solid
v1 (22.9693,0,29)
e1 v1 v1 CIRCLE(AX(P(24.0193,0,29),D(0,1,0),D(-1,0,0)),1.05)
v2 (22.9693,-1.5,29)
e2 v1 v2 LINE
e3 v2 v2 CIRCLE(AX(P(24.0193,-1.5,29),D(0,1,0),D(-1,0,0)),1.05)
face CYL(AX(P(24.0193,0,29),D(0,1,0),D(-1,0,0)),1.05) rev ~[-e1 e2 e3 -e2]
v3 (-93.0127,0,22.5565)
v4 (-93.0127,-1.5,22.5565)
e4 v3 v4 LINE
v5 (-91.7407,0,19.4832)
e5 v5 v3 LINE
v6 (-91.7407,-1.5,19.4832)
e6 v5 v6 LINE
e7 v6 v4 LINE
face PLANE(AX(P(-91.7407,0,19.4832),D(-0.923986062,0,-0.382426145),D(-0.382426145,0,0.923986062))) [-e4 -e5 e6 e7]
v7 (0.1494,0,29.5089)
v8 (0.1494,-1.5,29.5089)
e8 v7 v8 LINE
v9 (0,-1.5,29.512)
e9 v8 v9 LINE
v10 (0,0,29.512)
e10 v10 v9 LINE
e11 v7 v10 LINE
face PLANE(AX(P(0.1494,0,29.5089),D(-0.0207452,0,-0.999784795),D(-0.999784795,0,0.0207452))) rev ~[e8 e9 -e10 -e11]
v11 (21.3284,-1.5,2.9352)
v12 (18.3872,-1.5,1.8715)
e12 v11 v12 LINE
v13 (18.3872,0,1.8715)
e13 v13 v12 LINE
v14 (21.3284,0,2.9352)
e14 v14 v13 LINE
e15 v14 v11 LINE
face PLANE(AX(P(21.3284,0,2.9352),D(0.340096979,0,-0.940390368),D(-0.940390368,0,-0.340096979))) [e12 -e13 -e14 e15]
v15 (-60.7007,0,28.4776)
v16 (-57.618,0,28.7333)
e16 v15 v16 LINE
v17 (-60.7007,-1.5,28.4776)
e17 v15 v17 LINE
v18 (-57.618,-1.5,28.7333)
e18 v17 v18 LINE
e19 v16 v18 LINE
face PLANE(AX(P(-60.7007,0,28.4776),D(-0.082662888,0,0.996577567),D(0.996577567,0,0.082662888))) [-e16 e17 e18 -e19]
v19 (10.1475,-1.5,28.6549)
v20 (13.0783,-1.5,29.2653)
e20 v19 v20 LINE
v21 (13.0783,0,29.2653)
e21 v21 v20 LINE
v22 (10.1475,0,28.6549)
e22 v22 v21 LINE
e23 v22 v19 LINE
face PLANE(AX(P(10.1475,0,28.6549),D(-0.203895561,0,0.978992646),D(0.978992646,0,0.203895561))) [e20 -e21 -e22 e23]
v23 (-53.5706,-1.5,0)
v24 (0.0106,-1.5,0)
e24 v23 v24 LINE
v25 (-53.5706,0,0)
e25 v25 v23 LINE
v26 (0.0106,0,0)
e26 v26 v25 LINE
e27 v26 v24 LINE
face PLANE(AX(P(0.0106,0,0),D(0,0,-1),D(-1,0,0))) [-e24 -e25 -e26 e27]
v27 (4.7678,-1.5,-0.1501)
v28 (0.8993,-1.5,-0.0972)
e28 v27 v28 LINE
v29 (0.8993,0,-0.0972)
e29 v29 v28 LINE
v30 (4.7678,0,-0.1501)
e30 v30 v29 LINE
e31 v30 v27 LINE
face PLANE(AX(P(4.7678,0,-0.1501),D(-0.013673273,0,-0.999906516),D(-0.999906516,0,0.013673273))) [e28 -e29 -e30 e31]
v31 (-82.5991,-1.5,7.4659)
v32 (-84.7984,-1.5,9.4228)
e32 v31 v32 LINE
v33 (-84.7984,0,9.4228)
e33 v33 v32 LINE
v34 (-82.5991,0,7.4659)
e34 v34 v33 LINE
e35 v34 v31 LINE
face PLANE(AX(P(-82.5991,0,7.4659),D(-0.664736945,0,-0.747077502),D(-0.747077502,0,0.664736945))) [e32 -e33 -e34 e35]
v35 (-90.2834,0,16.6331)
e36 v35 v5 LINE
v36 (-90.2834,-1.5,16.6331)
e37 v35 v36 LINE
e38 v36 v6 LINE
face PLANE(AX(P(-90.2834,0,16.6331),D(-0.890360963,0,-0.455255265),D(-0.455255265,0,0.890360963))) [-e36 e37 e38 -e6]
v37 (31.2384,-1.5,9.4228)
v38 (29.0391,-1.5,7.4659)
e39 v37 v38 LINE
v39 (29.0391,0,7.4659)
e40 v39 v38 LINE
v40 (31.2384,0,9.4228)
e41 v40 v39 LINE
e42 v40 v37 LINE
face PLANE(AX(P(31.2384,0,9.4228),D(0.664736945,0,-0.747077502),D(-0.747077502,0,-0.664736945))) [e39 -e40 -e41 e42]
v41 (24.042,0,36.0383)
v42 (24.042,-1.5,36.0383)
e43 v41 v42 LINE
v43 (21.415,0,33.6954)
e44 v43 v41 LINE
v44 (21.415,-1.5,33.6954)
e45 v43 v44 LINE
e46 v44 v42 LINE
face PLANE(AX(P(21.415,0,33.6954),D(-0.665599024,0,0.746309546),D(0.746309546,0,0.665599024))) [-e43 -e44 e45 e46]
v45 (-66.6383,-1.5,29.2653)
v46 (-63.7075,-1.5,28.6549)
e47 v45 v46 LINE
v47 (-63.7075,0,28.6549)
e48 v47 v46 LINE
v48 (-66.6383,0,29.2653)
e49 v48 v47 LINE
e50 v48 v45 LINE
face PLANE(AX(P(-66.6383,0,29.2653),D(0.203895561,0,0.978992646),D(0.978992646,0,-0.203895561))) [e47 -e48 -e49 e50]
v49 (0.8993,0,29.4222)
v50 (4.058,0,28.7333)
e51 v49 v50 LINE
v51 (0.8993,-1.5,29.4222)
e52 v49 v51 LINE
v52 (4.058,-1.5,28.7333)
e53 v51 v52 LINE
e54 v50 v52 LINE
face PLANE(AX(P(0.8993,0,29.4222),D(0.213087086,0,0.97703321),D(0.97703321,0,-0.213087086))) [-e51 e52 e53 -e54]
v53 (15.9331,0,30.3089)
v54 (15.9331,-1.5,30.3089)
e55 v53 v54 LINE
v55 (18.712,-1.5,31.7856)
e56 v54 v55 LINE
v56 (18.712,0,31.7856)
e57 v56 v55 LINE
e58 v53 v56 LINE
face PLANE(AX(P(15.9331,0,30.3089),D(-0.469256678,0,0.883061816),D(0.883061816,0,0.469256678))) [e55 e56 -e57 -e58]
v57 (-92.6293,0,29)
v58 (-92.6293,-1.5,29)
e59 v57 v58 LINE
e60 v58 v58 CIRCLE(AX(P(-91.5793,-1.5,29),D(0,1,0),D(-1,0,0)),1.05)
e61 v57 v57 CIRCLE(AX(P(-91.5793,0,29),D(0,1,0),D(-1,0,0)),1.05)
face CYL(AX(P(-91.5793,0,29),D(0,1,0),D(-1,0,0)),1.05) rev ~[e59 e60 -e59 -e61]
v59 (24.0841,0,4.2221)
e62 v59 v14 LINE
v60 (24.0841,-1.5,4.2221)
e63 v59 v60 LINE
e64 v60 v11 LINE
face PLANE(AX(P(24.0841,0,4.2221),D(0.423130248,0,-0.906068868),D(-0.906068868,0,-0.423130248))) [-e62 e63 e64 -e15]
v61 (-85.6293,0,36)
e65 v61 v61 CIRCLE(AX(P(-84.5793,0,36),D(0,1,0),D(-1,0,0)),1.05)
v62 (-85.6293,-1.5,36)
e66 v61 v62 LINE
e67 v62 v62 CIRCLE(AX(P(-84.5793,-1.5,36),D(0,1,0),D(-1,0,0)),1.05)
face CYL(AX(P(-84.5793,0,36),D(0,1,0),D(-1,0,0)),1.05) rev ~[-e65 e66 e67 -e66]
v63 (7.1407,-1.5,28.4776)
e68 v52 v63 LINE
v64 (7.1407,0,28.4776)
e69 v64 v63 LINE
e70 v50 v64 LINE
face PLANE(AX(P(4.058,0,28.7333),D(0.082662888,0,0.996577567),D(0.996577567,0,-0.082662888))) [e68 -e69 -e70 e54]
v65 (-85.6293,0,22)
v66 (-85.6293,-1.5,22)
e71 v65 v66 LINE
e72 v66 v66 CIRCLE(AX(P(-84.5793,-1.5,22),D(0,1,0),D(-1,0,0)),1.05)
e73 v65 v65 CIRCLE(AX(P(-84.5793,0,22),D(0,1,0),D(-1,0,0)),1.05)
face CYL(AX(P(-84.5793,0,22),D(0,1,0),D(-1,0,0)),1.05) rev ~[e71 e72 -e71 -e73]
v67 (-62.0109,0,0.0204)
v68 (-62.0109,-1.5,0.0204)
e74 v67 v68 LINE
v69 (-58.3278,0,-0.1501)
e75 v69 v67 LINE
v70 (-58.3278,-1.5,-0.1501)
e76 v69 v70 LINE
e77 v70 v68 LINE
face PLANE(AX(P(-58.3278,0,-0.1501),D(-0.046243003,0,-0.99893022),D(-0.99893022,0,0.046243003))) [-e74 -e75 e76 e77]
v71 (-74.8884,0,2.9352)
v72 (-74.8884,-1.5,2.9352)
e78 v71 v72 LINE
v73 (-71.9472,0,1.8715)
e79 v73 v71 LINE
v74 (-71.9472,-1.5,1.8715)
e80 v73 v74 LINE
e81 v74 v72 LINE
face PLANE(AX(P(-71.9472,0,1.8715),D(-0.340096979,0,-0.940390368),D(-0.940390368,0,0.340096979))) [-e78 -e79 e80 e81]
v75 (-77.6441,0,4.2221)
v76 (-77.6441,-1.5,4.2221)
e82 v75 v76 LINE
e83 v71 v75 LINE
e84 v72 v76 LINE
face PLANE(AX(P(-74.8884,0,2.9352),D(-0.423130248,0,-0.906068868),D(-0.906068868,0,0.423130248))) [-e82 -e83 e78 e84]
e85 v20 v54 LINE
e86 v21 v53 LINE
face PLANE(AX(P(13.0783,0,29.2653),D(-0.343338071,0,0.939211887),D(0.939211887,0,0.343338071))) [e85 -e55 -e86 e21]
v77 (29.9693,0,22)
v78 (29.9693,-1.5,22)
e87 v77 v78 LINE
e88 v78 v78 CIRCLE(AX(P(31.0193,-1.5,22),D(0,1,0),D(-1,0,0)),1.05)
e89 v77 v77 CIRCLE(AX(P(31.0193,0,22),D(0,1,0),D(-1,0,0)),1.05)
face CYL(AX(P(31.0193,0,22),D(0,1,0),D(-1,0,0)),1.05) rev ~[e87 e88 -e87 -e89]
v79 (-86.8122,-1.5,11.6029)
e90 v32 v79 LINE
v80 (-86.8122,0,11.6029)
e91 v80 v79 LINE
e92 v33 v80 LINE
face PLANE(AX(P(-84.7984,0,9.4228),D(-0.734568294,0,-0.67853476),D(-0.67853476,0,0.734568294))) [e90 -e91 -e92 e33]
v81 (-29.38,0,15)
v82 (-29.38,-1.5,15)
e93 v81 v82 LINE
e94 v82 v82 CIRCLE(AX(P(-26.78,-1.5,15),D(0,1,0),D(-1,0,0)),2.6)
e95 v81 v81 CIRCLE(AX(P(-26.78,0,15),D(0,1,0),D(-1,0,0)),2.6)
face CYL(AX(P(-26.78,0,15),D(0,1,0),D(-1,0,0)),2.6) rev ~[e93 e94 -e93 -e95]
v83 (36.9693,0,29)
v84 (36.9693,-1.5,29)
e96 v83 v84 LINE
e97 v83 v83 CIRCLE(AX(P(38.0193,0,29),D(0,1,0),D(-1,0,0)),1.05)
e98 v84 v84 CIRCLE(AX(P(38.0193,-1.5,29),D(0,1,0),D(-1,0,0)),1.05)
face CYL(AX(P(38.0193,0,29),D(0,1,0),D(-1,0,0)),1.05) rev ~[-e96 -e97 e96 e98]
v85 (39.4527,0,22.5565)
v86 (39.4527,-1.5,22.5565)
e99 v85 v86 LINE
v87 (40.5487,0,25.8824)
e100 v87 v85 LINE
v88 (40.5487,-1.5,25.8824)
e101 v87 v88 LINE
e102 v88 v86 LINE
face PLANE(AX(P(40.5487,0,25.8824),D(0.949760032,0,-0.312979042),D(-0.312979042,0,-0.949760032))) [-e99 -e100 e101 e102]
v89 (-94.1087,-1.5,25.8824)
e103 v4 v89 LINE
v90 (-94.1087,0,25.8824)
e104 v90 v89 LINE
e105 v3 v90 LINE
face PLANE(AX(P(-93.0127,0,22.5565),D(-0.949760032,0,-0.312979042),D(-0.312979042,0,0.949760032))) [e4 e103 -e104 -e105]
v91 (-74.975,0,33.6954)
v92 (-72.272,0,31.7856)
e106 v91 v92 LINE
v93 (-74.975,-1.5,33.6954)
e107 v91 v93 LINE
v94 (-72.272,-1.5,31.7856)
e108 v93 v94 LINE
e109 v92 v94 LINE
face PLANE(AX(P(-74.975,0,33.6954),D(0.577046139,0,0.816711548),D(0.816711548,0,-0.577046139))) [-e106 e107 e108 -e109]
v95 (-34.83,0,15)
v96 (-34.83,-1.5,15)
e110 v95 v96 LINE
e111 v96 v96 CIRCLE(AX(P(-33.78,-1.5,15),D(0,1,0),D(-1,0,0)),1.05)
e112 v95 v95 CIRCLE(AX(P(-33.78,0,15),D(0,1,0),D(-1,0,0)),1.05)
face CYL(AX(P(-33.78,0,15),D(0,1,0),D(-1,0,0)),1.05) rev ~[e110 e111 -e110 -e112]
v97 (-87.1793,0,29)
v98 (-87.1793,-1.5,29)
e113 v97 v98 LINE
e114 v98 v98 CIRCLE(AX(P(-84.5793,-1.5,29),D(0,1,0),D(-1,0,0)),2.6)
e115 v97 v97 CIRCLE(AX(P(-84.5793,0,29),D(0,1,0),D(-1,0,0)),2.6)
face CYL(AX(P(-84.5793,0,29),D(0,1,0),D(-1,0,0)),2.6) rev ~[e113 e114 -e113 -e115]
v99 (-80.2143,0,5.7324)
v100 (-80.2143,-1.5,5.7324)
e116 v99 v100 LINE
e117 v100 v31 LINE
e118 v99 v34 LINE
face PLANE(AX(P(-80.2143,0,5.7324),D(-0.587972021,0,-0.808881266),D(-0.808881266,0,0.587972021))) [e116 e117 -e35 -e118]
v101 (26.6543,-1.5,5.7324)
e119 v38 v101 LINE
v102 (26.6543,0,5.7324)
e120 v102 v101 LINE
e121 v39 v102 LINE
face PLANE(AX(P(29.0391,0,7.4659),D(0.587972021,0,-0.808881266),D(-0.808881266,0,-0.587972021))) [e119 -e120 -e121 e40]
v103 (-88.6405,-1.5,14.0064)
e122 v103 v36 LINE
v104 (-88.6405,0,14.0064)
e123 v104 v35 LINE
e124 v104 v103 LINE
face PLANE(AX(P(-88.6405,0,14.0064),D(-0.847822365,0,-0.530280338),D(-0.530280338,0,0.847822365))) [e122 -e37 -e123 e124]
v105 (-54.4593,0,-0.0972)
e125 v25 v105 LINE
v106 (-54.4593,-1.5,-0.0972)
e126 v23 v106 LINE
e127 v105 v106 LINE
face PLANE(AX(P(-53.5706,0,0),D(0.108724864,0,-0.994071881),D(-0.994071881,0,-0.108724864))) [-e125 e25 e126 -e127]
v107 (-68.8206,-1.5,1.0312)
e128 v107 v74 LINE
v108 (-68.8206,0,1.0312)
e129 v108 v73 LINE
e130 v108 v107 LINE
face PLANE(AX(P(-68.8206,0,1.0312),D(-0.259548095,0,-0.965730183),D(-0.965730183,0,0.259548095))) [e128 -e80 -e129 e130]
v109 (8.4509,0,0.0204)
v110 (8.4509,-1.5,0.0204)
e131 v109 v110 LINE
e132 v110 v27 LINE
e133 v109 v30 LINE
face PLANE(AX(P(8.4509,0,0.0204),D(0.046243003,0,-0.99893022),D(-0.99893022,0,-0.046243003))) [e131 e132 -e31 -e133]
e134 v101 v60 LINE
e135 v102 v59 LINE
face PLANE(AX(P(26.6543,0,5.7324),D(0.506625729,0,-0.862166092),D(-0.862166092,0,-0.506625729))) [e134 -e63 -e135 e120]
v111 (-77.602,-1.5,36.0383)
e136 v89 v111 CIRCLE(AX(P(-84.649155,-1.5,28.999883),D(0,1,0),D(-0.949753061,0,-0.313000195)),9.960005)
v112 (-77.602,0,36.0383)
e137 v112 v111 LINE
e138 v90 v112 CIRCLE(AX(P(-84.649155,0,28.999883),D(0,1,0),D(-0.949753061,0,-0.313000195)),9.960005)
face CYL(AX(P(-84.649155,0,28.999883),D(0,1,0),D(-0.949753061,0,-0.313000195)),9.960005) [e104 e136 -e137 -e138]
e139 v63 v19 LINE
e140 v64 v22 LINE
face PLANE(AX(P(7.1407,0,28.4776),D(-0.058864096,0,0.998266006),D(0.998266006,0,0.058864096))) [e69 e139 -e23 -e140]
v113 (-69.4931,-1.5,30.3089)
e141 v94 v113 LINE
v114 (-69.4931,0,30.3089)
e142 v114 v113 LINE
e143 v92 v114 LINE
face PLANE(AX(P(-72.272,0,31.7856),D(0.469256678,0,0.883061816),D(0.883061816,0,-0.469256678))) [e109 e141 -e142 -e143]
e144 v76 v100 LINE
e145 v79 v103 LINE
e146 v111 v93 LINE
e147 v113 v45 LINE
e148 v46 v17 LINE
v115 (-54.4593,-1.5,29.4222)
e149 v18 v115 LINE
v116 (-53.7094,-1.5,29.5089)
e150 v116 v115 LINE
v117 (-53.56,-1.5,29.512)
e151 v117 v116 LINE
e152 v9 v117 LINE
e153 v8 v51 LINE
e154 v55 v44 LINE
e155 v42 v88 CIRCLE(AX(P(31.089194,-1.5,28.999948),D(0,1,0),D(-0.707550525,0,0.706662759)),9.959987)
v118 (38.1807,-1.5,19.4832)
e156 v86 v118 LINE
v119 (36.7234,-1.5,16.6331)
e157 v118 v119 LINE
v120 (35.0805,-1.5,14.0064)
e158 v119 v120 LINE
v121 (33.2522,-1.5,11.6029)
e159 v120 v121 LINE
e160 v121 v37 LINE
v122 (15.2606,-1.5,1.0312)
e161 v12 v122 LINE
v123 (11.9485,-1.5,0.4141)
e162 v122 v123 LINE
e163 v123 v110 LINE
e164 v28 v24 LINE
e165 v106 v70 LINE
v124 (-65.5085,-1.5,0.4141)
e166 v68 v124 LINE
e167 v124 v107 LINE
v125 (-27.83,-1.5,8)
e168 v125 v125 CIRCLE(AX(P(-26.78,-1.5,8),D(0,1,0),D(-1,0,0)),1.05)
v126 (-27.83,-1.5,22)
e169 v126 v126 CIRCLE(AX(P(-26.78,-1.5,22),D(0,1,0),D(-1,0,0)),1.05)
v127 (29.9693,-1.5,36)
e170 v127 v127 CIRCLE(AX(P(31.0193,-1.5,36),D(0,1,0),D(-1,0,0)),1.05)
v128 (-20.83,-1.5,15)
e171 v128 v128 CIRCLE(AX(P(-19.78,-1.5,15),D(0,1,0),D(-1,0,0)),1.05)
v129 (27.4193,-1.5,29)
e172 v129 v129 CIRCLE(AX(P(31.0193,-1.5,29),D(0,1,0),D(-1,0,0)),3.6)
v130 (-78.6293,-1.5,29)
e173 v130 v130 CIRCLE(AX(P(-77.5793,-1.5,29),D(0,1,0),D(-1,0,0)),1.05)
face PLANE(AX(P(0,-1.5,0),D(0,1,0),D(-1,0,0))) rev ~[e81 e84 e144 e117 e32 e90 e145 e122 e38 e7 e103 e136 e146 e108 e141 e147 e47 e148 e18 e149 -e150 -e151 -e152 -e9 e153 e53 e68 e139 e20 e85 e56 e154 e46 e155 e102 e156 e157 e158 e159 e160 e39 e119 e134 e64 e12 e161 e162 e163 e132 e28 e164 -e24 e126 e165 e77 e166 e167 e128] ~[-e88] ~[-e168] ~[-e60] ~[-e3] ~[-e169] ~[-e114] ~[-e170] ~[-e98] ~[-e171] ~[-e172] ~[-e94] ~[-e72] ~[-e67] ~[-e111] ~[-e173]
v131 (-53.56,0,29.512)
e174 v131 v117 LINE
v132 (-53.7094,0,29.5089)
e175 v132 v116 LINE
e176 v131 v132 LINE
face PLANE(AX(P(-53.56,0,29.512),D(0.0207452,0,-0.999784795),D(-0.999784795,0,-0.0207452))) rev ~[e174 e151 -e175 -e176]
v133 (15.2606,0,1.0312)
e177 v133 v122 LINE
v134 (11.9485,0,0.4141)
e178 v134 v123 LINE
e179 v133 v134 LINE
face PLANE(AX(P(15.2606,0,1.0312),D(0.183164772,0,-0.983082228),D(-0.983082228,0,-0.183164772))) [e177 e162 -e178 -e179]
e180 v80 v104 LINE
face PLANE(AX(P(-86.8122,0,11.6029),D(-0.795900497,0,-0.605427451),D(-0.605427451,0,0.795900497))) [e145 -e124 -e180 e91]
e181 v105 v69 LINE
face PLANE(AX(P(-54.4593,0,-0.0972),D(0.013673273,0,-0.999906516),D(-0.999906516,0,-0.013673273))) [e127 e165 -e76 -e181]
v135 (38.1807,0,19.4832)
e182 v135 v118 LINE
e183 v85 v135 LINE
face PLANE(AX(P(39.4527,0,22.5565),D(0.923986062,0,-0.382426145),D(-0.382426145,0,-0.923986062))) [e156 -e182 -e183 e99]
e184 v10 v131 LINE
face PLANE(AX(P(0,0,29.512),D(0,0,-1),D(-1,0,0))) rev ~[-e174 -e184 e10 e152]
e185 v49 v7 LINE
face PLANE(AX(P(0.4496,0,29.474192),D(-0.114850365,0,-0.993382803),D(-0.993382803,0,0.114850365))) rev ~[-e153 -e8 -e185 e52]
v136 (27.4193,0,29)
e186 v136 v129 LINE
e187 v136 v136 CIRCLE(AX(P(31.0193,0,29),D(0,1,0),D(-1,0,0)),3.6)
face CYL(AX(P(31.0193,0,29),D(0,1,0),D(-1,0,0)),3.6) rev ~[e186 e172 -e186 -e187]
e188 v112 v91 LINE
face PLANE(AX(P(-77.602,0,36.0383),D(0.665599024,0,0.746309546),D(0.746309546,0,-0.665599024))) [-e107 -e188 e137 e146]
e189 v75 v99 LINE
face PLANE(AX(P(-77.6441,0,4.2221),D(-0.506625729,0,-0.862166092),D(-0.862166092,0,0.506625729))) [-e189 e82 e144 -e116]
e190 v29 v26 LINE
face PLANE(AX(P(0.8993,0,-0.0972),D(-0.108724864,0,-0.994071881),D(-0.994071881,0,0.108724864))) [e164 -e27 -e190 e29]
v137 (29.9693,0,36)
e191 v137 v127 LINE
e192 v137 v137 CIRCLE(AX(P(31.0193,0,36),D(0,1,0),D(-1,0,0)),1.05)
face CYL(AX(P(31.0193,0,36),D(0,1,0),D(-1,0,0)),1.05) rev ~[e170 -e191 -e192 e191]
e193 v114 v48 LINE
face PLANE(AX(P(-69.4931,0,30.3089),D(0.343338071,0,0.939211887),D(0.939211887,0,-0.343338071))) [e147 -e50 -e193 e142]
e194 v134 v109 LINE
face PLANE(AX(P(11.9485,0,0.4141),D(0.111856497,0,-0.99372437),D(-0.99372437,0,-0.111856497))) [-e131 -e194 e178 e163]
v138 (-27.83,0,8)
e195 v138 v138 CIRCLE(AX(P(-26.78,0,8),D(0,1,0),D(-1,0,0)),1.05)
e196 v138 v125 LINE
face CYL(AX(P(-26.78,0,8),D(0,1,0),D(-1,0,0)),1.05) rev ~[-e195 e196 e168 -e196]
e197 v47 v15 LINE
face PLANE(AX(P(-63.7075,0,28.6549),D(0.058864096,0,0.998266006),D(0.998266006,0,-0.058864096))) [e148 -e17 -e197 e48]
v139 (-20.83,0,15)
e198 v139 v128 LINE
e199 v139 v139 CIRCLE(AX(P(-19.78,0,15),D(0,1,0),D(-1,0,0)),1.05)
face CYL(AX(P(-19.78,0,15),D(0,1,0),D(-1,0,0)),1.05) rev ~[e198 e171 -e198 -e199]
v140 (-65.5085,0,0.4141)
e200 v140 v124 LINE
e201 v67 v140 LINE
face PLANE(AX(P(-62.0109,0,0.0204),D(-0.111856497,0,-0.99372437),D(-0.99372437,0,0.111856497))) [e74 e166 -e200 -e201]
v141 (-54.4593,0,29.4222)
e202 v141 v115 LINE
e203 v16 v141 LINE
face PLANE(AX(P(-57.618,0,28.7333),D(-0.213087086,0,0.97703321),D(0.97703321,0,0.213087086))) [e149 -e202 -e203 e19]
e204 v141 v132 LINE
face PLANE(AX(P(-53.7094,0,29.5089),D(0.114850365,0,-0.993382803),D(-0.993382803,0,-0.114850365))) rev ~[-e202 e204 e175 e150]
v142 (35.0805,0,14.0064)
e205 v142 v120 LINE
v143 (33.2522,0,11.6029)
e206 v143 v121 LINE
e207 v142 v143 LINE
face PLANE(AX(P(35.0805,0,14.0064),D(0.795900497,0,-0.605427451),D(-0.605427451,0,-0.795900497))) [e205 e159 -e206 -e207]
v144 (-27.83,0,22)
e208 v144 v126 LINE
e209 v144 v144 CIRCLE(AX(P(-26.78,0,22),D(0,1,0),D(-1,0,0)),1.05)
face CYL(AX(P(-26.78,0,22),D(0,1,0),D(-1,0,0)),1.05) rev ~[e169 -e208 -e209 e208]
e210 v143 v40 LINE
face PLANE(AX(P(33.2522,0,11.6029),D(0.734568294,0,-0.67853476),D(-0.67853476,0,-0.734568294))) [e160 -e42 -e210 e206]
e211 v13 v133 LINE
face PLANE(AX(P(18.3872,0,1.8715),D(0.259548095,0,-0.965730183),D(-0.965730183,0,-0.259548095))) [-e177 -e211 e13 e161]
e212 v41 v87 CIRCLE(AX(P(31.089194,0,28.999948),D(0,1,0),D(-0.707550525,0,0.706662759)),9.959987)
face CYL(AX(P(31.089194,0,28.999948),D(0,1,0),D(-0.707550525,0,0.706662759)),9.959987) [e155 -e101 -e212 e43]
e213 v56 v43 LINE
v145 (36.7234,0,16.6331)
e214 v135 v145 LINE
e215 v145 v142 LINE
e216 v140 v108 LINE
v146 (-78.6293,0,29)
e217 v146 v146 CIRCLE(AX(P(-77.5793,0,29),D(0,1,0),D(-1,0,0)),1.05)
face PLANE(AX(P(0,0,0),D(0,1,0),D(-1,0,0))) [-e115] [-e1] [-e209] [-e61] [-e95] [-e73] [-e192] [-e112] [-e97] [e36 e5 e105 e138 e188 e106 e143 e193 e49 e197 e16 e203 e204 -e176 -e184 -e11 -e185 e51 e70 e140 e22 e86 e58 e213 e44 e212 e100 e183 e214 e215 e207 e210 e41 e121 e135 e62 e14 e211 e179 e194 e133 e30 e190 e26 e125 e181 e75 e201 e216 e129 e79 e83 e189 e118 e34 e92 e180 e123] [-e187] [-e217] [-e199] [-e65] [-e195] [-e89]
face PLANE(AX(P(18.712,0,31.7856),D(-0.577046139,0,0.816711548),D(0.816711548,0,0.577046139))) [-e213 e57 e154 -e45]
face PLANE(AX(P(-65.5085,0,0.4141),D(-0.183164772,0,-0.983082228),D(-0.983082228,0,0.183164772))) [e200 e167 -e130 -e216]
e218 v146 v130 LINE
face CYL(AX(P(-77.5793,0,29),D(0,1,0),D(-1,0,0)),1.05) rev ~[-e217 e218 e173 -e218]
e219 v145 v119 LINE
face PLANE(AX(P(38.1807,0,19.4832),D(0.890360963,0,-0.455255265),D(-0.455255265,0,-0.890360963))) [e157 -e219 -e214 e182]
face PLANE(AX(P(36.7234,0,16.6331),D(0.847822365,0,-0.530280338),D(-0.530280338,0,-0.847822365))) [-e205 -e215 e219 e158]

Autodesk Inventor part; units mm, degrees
ref_plane "YZ Plane" through (0, 0, 0) normal (1, 0, 0) x (0, 1, 0)
ref_plane "XZ Plane" through (0, 0, 0) normal (0, 1, 0) x (-1, 0, 0)
ref_plane "XY Plane" through (0, 0, 0) normal (0, 0, 1) x (1, 0, 0)
sketch "Sketch1" plane through (0, 0, 0) normal (0, 1, 0) x (-1, 0, 0)
  line L0 (-0.4496, 29.8144) -> (-0.4496, -0.0337)
  line L1 (54.0096, -0.0338) -> (54.0096, 29.8144)
  line L2 (53.5706, 0) -> (53.6221, -0.0838)
  line L3 (53.56, 0) -> (53.5706, 0)
  line L4 (53.56, -0.0837) -> (53.56, 0)
  line L5 (-0.0106, 0) -> (-0.0621, -0.0838)
  line L6 (-0.8993, -0.0972) -> (-0.0106, 0)
  line L7 (53.5706, 0) -> (54.4593, -0.0972)
  line L8 (0, 0) -> (0, -0.0837)
  line L9 (-0.0106, 0) -> (0, 0)
  line L10 (0, 0) -> (53.56, 0)
  line L11 (53.7094, 29.5089) -> (53.5853, 29.9994)
  line L12 (53.56, 29.512) -> (53.7094, 29.5089)
  line L13 (53.56, 30) -> (53.56, 29.512)
  line L14 (-0.1494, 29.5089) -> (-0.0253, 29.9994)
  line L15 (-0.8993, 29.4222) -> (-0.1494, 29.5089)
  line L16 (0, 29.512) -> (0, 30)
  line L17 (-0.1494, 29.5089) -> (0, 29.512)
  line L18 (53.7094, 29.5089) -> (54.4593, 29.4222)
  line L19 (0, 29.512) -> (53.56, 29.512)
  circle A0 centre (26.78, 15) radius 2.6
  circle A1 centre (84.5793, 29) radius 2.6
  circle A2 centre (-31.0193, 29) radius 3.6
  circle A3 centre (91.5793, 29) radius 1.05
  circle A4 centre (84.5793, 36) radius 1.05
  circle A5 centre (84.5793, 22) radius 1.05
  circle A6 centre (77.5793, 29) radius 1.05
  circle A7 centre (-38.0193, 29) radius 1.05
  circle A8 centre (-31.0193, 36) radius 1.05
  circle A9 centre (-31.0193, 22) radius 1.05
  circle A10 centre (-24.0193, 29) radius 1.05
  circle A11 centre (19.78, 15) radius 1.05
  circle A12 centre (26.78, 22) radius 1.05
  circle A13 centre (33.78, 15) radius 1.05
  circle A14 centre (26.78, 8) radius 1.05
  line L20 (53.5853, 29.9994) -> (53.56, 30)
  line L21 (53.6221, -0.0838) -> (53.56, -0.0837)
  line L22 (-0.0621, -0.0838) -> (-0.8993, -0.0972)
  line L23 (-0.0253, 29.9994) -> (-0.8993, 29.4222)
  line L24 (77.602, 36.0383) -> (74.975, 33.6954)
  line L25 (74.975, 33.6954) -> (72.272, 31.7856)
  line L26 (72.272, 31.7856) -> (69.4931, 30.3089)
  line L27 (69.4931, 30.3089) -> (66.6383, 29.2653)
  line L28 (66.6383, 29.2653) -> (63.7075, 28.6549)
  line L29 (63.7075, 28.6549) -> (60.7007, 28.4776)
  line L30 (60.7007, 28.4776) -> (57.618, 28.7333)
  line L31 (57.618, 28.7333) -> (54.4593, 29.4222)
  line L32 (54.4593, -0.0972) -> (53.6221, -0.0838)
  line L33 (-40.5487, 25.8824) -> (-39.4527, 22.5565)
  line L34 (-39.4527, 22.5565) -> (-38.1807, 19.4832)
  line L35 (-38.1807, 19.4832) -> (-36.7234, 16.6331)
  line L36 (-36.7234, 16.6331) -> (-35.0805, 14.0064)
  line L37 (-35.0805, 14.0064) -> (-33.2522, 11.6029)
  line L38 (-33.2522, 11.6029) -> (-31.2384, 9.4228)
  line L39 (-31.2384, 9.4228) -> (-29.0391, 7.4659)
  line L40 (-29.0391, 7.4659) -> (-26.6543, 5.7324)
  line L41 (-26.6543, 5.7324) -> (-24.0841, 4.2221)
  line L42 (-24.0841, 4.2221) -> (-21.3284, 2.9352)
  line L43 (-21.3284, 2.9352) -> (-18.3872, 1.8715)
  line L44 (-18.3872, 1.8715) -> (-15.2606, 1.0312)
  line L45 (-15.2606, 1.0312) -> (-11.9485, 0.4141)
  line L46 (-11.9485, 0.4141) -> (-8.4509, 0.0204)
  line L47 (-8.4509, 0.0204) -> (-4.7678, -0.1501)
  line L48 (-4.7678, -0.1501) -> (-0.8993, -0.0972)
  line L49 (0, 30) -> (-0.0253, 29.9994)
  line L50 (54.4593, -0.0972) -> (58.3278, -0.1501)
  line L51 (58.3278, -0.1501) -> (62.0109, 0.0204)
  line L52 (62.0109, 0.0204) -> (65.5085, 0.4141)
  line L53 (65.5085, 0.4141) -> (68.8206, 1.0312)
  line L54 (68.8206, 1.0312) -> (71.9472, 1.8715)
  line L55 (71.9472, 1.8715) -> (74.8884, 2.9352)
  line L56 (74.8884, 2.9352) -> (77.6441, 4.2221)
  line L57 (77.6441, 4.2221) -> (80.2143, 5.7324)
  line L58 (80.2143, 5.7324) -> (82.5991, 7.4659)
  line L59 (82.5991, 7.4659) -> (84.7984, 9.4228)
  line L60 (84.7984, 9.4228) -> (86.8122, 11.6029)
  line L61 (86.8122, 11.6029) -> (88.6405, 14.0064)
  line L62 (88.6405, 14.0064) -> (90.2834, 16.6331)
  line L63 (90.2834, 16.6331) -> (91.7407, 19.4832)
  line L64 (91.7407, 19.4832) -> (93.0127, 22.5565)
  line L65 (93.0127, 22.5565) -> (94.1087, 25.8824)
  line L66 (54.4593, 29.4222) -> (53.5853, 29.9994)
  line L67 (-0.8993, 29.4222) -> (-4.058, 28.7333)
  line L68 (-4.058, 28.7333) -> (-7.1407, 28.4776)
  line L69 (-7.1407, 28.4776) -> (-10.1475, 28.6549)
  line L70 (-10.1475, 28.6549) -> (-13.0783, 29.2653)
  line L71 (-13.0783, 29.2653) -> (-15.9331, 30.3089)
  line L72 (-15.9331, 30.3089) -> (-18.712, 31.7856)
  line L73 (-18.712, 31.7856) -> (-21.415, 33.6954)
  line L74 (-21.415, 33.6954) -> (-24.042, 36.0383)
  line L75 (0, -0.0837) -> (-0.0621, -0.0838)
  line L76 (53.56, 30) -> (0, 30)
  arc A15 (-24.042, 36.0383) -> (-40.5487, 25.8824) centre (-31.0892, 28.9999) ccw
  arc A16 (94.1087, 25.8824) -> (77.602, 36.0383) centre (84.6492, 28.9999) ccw
  line L77 (53.56, -0.0837) -> (0, -0.0837)
  line L78 (54.4593, 29.4222) -> (54.4593, -0.0972)
  line L79 (-0.8993, -0.0972) -> (-0.8993, 29.4222)
  line L80 (53.56, 0) -> (53.56, 30)
  line L81 (0, 30) -> (0, 0)
  point P0 (0, 0)
extrude "Extrusion1" add sketch "Sketch1" against normal blind 1.5 contours L15 L17 L81 L9 L6 L79 | L79 L48 L47 L46 L45 L44 L43 L42 L41 L40 L39 L38 L37 L36 L35 L34 L33 A15 L74 L73 L72 L71 L70 L69 L68 L67 | L19 L80 L10 L81 | L12 L18 L78 L7 L3 L80 | L31 L30 L29 L28 L27 L26 L25 L24 A16 L65 L64 L63 L62 L61 L60 L59 L58 L57 L56 L55 L54 L53 L52 L51 L50 L78
properties part number "axis_15_bottom_frame"
